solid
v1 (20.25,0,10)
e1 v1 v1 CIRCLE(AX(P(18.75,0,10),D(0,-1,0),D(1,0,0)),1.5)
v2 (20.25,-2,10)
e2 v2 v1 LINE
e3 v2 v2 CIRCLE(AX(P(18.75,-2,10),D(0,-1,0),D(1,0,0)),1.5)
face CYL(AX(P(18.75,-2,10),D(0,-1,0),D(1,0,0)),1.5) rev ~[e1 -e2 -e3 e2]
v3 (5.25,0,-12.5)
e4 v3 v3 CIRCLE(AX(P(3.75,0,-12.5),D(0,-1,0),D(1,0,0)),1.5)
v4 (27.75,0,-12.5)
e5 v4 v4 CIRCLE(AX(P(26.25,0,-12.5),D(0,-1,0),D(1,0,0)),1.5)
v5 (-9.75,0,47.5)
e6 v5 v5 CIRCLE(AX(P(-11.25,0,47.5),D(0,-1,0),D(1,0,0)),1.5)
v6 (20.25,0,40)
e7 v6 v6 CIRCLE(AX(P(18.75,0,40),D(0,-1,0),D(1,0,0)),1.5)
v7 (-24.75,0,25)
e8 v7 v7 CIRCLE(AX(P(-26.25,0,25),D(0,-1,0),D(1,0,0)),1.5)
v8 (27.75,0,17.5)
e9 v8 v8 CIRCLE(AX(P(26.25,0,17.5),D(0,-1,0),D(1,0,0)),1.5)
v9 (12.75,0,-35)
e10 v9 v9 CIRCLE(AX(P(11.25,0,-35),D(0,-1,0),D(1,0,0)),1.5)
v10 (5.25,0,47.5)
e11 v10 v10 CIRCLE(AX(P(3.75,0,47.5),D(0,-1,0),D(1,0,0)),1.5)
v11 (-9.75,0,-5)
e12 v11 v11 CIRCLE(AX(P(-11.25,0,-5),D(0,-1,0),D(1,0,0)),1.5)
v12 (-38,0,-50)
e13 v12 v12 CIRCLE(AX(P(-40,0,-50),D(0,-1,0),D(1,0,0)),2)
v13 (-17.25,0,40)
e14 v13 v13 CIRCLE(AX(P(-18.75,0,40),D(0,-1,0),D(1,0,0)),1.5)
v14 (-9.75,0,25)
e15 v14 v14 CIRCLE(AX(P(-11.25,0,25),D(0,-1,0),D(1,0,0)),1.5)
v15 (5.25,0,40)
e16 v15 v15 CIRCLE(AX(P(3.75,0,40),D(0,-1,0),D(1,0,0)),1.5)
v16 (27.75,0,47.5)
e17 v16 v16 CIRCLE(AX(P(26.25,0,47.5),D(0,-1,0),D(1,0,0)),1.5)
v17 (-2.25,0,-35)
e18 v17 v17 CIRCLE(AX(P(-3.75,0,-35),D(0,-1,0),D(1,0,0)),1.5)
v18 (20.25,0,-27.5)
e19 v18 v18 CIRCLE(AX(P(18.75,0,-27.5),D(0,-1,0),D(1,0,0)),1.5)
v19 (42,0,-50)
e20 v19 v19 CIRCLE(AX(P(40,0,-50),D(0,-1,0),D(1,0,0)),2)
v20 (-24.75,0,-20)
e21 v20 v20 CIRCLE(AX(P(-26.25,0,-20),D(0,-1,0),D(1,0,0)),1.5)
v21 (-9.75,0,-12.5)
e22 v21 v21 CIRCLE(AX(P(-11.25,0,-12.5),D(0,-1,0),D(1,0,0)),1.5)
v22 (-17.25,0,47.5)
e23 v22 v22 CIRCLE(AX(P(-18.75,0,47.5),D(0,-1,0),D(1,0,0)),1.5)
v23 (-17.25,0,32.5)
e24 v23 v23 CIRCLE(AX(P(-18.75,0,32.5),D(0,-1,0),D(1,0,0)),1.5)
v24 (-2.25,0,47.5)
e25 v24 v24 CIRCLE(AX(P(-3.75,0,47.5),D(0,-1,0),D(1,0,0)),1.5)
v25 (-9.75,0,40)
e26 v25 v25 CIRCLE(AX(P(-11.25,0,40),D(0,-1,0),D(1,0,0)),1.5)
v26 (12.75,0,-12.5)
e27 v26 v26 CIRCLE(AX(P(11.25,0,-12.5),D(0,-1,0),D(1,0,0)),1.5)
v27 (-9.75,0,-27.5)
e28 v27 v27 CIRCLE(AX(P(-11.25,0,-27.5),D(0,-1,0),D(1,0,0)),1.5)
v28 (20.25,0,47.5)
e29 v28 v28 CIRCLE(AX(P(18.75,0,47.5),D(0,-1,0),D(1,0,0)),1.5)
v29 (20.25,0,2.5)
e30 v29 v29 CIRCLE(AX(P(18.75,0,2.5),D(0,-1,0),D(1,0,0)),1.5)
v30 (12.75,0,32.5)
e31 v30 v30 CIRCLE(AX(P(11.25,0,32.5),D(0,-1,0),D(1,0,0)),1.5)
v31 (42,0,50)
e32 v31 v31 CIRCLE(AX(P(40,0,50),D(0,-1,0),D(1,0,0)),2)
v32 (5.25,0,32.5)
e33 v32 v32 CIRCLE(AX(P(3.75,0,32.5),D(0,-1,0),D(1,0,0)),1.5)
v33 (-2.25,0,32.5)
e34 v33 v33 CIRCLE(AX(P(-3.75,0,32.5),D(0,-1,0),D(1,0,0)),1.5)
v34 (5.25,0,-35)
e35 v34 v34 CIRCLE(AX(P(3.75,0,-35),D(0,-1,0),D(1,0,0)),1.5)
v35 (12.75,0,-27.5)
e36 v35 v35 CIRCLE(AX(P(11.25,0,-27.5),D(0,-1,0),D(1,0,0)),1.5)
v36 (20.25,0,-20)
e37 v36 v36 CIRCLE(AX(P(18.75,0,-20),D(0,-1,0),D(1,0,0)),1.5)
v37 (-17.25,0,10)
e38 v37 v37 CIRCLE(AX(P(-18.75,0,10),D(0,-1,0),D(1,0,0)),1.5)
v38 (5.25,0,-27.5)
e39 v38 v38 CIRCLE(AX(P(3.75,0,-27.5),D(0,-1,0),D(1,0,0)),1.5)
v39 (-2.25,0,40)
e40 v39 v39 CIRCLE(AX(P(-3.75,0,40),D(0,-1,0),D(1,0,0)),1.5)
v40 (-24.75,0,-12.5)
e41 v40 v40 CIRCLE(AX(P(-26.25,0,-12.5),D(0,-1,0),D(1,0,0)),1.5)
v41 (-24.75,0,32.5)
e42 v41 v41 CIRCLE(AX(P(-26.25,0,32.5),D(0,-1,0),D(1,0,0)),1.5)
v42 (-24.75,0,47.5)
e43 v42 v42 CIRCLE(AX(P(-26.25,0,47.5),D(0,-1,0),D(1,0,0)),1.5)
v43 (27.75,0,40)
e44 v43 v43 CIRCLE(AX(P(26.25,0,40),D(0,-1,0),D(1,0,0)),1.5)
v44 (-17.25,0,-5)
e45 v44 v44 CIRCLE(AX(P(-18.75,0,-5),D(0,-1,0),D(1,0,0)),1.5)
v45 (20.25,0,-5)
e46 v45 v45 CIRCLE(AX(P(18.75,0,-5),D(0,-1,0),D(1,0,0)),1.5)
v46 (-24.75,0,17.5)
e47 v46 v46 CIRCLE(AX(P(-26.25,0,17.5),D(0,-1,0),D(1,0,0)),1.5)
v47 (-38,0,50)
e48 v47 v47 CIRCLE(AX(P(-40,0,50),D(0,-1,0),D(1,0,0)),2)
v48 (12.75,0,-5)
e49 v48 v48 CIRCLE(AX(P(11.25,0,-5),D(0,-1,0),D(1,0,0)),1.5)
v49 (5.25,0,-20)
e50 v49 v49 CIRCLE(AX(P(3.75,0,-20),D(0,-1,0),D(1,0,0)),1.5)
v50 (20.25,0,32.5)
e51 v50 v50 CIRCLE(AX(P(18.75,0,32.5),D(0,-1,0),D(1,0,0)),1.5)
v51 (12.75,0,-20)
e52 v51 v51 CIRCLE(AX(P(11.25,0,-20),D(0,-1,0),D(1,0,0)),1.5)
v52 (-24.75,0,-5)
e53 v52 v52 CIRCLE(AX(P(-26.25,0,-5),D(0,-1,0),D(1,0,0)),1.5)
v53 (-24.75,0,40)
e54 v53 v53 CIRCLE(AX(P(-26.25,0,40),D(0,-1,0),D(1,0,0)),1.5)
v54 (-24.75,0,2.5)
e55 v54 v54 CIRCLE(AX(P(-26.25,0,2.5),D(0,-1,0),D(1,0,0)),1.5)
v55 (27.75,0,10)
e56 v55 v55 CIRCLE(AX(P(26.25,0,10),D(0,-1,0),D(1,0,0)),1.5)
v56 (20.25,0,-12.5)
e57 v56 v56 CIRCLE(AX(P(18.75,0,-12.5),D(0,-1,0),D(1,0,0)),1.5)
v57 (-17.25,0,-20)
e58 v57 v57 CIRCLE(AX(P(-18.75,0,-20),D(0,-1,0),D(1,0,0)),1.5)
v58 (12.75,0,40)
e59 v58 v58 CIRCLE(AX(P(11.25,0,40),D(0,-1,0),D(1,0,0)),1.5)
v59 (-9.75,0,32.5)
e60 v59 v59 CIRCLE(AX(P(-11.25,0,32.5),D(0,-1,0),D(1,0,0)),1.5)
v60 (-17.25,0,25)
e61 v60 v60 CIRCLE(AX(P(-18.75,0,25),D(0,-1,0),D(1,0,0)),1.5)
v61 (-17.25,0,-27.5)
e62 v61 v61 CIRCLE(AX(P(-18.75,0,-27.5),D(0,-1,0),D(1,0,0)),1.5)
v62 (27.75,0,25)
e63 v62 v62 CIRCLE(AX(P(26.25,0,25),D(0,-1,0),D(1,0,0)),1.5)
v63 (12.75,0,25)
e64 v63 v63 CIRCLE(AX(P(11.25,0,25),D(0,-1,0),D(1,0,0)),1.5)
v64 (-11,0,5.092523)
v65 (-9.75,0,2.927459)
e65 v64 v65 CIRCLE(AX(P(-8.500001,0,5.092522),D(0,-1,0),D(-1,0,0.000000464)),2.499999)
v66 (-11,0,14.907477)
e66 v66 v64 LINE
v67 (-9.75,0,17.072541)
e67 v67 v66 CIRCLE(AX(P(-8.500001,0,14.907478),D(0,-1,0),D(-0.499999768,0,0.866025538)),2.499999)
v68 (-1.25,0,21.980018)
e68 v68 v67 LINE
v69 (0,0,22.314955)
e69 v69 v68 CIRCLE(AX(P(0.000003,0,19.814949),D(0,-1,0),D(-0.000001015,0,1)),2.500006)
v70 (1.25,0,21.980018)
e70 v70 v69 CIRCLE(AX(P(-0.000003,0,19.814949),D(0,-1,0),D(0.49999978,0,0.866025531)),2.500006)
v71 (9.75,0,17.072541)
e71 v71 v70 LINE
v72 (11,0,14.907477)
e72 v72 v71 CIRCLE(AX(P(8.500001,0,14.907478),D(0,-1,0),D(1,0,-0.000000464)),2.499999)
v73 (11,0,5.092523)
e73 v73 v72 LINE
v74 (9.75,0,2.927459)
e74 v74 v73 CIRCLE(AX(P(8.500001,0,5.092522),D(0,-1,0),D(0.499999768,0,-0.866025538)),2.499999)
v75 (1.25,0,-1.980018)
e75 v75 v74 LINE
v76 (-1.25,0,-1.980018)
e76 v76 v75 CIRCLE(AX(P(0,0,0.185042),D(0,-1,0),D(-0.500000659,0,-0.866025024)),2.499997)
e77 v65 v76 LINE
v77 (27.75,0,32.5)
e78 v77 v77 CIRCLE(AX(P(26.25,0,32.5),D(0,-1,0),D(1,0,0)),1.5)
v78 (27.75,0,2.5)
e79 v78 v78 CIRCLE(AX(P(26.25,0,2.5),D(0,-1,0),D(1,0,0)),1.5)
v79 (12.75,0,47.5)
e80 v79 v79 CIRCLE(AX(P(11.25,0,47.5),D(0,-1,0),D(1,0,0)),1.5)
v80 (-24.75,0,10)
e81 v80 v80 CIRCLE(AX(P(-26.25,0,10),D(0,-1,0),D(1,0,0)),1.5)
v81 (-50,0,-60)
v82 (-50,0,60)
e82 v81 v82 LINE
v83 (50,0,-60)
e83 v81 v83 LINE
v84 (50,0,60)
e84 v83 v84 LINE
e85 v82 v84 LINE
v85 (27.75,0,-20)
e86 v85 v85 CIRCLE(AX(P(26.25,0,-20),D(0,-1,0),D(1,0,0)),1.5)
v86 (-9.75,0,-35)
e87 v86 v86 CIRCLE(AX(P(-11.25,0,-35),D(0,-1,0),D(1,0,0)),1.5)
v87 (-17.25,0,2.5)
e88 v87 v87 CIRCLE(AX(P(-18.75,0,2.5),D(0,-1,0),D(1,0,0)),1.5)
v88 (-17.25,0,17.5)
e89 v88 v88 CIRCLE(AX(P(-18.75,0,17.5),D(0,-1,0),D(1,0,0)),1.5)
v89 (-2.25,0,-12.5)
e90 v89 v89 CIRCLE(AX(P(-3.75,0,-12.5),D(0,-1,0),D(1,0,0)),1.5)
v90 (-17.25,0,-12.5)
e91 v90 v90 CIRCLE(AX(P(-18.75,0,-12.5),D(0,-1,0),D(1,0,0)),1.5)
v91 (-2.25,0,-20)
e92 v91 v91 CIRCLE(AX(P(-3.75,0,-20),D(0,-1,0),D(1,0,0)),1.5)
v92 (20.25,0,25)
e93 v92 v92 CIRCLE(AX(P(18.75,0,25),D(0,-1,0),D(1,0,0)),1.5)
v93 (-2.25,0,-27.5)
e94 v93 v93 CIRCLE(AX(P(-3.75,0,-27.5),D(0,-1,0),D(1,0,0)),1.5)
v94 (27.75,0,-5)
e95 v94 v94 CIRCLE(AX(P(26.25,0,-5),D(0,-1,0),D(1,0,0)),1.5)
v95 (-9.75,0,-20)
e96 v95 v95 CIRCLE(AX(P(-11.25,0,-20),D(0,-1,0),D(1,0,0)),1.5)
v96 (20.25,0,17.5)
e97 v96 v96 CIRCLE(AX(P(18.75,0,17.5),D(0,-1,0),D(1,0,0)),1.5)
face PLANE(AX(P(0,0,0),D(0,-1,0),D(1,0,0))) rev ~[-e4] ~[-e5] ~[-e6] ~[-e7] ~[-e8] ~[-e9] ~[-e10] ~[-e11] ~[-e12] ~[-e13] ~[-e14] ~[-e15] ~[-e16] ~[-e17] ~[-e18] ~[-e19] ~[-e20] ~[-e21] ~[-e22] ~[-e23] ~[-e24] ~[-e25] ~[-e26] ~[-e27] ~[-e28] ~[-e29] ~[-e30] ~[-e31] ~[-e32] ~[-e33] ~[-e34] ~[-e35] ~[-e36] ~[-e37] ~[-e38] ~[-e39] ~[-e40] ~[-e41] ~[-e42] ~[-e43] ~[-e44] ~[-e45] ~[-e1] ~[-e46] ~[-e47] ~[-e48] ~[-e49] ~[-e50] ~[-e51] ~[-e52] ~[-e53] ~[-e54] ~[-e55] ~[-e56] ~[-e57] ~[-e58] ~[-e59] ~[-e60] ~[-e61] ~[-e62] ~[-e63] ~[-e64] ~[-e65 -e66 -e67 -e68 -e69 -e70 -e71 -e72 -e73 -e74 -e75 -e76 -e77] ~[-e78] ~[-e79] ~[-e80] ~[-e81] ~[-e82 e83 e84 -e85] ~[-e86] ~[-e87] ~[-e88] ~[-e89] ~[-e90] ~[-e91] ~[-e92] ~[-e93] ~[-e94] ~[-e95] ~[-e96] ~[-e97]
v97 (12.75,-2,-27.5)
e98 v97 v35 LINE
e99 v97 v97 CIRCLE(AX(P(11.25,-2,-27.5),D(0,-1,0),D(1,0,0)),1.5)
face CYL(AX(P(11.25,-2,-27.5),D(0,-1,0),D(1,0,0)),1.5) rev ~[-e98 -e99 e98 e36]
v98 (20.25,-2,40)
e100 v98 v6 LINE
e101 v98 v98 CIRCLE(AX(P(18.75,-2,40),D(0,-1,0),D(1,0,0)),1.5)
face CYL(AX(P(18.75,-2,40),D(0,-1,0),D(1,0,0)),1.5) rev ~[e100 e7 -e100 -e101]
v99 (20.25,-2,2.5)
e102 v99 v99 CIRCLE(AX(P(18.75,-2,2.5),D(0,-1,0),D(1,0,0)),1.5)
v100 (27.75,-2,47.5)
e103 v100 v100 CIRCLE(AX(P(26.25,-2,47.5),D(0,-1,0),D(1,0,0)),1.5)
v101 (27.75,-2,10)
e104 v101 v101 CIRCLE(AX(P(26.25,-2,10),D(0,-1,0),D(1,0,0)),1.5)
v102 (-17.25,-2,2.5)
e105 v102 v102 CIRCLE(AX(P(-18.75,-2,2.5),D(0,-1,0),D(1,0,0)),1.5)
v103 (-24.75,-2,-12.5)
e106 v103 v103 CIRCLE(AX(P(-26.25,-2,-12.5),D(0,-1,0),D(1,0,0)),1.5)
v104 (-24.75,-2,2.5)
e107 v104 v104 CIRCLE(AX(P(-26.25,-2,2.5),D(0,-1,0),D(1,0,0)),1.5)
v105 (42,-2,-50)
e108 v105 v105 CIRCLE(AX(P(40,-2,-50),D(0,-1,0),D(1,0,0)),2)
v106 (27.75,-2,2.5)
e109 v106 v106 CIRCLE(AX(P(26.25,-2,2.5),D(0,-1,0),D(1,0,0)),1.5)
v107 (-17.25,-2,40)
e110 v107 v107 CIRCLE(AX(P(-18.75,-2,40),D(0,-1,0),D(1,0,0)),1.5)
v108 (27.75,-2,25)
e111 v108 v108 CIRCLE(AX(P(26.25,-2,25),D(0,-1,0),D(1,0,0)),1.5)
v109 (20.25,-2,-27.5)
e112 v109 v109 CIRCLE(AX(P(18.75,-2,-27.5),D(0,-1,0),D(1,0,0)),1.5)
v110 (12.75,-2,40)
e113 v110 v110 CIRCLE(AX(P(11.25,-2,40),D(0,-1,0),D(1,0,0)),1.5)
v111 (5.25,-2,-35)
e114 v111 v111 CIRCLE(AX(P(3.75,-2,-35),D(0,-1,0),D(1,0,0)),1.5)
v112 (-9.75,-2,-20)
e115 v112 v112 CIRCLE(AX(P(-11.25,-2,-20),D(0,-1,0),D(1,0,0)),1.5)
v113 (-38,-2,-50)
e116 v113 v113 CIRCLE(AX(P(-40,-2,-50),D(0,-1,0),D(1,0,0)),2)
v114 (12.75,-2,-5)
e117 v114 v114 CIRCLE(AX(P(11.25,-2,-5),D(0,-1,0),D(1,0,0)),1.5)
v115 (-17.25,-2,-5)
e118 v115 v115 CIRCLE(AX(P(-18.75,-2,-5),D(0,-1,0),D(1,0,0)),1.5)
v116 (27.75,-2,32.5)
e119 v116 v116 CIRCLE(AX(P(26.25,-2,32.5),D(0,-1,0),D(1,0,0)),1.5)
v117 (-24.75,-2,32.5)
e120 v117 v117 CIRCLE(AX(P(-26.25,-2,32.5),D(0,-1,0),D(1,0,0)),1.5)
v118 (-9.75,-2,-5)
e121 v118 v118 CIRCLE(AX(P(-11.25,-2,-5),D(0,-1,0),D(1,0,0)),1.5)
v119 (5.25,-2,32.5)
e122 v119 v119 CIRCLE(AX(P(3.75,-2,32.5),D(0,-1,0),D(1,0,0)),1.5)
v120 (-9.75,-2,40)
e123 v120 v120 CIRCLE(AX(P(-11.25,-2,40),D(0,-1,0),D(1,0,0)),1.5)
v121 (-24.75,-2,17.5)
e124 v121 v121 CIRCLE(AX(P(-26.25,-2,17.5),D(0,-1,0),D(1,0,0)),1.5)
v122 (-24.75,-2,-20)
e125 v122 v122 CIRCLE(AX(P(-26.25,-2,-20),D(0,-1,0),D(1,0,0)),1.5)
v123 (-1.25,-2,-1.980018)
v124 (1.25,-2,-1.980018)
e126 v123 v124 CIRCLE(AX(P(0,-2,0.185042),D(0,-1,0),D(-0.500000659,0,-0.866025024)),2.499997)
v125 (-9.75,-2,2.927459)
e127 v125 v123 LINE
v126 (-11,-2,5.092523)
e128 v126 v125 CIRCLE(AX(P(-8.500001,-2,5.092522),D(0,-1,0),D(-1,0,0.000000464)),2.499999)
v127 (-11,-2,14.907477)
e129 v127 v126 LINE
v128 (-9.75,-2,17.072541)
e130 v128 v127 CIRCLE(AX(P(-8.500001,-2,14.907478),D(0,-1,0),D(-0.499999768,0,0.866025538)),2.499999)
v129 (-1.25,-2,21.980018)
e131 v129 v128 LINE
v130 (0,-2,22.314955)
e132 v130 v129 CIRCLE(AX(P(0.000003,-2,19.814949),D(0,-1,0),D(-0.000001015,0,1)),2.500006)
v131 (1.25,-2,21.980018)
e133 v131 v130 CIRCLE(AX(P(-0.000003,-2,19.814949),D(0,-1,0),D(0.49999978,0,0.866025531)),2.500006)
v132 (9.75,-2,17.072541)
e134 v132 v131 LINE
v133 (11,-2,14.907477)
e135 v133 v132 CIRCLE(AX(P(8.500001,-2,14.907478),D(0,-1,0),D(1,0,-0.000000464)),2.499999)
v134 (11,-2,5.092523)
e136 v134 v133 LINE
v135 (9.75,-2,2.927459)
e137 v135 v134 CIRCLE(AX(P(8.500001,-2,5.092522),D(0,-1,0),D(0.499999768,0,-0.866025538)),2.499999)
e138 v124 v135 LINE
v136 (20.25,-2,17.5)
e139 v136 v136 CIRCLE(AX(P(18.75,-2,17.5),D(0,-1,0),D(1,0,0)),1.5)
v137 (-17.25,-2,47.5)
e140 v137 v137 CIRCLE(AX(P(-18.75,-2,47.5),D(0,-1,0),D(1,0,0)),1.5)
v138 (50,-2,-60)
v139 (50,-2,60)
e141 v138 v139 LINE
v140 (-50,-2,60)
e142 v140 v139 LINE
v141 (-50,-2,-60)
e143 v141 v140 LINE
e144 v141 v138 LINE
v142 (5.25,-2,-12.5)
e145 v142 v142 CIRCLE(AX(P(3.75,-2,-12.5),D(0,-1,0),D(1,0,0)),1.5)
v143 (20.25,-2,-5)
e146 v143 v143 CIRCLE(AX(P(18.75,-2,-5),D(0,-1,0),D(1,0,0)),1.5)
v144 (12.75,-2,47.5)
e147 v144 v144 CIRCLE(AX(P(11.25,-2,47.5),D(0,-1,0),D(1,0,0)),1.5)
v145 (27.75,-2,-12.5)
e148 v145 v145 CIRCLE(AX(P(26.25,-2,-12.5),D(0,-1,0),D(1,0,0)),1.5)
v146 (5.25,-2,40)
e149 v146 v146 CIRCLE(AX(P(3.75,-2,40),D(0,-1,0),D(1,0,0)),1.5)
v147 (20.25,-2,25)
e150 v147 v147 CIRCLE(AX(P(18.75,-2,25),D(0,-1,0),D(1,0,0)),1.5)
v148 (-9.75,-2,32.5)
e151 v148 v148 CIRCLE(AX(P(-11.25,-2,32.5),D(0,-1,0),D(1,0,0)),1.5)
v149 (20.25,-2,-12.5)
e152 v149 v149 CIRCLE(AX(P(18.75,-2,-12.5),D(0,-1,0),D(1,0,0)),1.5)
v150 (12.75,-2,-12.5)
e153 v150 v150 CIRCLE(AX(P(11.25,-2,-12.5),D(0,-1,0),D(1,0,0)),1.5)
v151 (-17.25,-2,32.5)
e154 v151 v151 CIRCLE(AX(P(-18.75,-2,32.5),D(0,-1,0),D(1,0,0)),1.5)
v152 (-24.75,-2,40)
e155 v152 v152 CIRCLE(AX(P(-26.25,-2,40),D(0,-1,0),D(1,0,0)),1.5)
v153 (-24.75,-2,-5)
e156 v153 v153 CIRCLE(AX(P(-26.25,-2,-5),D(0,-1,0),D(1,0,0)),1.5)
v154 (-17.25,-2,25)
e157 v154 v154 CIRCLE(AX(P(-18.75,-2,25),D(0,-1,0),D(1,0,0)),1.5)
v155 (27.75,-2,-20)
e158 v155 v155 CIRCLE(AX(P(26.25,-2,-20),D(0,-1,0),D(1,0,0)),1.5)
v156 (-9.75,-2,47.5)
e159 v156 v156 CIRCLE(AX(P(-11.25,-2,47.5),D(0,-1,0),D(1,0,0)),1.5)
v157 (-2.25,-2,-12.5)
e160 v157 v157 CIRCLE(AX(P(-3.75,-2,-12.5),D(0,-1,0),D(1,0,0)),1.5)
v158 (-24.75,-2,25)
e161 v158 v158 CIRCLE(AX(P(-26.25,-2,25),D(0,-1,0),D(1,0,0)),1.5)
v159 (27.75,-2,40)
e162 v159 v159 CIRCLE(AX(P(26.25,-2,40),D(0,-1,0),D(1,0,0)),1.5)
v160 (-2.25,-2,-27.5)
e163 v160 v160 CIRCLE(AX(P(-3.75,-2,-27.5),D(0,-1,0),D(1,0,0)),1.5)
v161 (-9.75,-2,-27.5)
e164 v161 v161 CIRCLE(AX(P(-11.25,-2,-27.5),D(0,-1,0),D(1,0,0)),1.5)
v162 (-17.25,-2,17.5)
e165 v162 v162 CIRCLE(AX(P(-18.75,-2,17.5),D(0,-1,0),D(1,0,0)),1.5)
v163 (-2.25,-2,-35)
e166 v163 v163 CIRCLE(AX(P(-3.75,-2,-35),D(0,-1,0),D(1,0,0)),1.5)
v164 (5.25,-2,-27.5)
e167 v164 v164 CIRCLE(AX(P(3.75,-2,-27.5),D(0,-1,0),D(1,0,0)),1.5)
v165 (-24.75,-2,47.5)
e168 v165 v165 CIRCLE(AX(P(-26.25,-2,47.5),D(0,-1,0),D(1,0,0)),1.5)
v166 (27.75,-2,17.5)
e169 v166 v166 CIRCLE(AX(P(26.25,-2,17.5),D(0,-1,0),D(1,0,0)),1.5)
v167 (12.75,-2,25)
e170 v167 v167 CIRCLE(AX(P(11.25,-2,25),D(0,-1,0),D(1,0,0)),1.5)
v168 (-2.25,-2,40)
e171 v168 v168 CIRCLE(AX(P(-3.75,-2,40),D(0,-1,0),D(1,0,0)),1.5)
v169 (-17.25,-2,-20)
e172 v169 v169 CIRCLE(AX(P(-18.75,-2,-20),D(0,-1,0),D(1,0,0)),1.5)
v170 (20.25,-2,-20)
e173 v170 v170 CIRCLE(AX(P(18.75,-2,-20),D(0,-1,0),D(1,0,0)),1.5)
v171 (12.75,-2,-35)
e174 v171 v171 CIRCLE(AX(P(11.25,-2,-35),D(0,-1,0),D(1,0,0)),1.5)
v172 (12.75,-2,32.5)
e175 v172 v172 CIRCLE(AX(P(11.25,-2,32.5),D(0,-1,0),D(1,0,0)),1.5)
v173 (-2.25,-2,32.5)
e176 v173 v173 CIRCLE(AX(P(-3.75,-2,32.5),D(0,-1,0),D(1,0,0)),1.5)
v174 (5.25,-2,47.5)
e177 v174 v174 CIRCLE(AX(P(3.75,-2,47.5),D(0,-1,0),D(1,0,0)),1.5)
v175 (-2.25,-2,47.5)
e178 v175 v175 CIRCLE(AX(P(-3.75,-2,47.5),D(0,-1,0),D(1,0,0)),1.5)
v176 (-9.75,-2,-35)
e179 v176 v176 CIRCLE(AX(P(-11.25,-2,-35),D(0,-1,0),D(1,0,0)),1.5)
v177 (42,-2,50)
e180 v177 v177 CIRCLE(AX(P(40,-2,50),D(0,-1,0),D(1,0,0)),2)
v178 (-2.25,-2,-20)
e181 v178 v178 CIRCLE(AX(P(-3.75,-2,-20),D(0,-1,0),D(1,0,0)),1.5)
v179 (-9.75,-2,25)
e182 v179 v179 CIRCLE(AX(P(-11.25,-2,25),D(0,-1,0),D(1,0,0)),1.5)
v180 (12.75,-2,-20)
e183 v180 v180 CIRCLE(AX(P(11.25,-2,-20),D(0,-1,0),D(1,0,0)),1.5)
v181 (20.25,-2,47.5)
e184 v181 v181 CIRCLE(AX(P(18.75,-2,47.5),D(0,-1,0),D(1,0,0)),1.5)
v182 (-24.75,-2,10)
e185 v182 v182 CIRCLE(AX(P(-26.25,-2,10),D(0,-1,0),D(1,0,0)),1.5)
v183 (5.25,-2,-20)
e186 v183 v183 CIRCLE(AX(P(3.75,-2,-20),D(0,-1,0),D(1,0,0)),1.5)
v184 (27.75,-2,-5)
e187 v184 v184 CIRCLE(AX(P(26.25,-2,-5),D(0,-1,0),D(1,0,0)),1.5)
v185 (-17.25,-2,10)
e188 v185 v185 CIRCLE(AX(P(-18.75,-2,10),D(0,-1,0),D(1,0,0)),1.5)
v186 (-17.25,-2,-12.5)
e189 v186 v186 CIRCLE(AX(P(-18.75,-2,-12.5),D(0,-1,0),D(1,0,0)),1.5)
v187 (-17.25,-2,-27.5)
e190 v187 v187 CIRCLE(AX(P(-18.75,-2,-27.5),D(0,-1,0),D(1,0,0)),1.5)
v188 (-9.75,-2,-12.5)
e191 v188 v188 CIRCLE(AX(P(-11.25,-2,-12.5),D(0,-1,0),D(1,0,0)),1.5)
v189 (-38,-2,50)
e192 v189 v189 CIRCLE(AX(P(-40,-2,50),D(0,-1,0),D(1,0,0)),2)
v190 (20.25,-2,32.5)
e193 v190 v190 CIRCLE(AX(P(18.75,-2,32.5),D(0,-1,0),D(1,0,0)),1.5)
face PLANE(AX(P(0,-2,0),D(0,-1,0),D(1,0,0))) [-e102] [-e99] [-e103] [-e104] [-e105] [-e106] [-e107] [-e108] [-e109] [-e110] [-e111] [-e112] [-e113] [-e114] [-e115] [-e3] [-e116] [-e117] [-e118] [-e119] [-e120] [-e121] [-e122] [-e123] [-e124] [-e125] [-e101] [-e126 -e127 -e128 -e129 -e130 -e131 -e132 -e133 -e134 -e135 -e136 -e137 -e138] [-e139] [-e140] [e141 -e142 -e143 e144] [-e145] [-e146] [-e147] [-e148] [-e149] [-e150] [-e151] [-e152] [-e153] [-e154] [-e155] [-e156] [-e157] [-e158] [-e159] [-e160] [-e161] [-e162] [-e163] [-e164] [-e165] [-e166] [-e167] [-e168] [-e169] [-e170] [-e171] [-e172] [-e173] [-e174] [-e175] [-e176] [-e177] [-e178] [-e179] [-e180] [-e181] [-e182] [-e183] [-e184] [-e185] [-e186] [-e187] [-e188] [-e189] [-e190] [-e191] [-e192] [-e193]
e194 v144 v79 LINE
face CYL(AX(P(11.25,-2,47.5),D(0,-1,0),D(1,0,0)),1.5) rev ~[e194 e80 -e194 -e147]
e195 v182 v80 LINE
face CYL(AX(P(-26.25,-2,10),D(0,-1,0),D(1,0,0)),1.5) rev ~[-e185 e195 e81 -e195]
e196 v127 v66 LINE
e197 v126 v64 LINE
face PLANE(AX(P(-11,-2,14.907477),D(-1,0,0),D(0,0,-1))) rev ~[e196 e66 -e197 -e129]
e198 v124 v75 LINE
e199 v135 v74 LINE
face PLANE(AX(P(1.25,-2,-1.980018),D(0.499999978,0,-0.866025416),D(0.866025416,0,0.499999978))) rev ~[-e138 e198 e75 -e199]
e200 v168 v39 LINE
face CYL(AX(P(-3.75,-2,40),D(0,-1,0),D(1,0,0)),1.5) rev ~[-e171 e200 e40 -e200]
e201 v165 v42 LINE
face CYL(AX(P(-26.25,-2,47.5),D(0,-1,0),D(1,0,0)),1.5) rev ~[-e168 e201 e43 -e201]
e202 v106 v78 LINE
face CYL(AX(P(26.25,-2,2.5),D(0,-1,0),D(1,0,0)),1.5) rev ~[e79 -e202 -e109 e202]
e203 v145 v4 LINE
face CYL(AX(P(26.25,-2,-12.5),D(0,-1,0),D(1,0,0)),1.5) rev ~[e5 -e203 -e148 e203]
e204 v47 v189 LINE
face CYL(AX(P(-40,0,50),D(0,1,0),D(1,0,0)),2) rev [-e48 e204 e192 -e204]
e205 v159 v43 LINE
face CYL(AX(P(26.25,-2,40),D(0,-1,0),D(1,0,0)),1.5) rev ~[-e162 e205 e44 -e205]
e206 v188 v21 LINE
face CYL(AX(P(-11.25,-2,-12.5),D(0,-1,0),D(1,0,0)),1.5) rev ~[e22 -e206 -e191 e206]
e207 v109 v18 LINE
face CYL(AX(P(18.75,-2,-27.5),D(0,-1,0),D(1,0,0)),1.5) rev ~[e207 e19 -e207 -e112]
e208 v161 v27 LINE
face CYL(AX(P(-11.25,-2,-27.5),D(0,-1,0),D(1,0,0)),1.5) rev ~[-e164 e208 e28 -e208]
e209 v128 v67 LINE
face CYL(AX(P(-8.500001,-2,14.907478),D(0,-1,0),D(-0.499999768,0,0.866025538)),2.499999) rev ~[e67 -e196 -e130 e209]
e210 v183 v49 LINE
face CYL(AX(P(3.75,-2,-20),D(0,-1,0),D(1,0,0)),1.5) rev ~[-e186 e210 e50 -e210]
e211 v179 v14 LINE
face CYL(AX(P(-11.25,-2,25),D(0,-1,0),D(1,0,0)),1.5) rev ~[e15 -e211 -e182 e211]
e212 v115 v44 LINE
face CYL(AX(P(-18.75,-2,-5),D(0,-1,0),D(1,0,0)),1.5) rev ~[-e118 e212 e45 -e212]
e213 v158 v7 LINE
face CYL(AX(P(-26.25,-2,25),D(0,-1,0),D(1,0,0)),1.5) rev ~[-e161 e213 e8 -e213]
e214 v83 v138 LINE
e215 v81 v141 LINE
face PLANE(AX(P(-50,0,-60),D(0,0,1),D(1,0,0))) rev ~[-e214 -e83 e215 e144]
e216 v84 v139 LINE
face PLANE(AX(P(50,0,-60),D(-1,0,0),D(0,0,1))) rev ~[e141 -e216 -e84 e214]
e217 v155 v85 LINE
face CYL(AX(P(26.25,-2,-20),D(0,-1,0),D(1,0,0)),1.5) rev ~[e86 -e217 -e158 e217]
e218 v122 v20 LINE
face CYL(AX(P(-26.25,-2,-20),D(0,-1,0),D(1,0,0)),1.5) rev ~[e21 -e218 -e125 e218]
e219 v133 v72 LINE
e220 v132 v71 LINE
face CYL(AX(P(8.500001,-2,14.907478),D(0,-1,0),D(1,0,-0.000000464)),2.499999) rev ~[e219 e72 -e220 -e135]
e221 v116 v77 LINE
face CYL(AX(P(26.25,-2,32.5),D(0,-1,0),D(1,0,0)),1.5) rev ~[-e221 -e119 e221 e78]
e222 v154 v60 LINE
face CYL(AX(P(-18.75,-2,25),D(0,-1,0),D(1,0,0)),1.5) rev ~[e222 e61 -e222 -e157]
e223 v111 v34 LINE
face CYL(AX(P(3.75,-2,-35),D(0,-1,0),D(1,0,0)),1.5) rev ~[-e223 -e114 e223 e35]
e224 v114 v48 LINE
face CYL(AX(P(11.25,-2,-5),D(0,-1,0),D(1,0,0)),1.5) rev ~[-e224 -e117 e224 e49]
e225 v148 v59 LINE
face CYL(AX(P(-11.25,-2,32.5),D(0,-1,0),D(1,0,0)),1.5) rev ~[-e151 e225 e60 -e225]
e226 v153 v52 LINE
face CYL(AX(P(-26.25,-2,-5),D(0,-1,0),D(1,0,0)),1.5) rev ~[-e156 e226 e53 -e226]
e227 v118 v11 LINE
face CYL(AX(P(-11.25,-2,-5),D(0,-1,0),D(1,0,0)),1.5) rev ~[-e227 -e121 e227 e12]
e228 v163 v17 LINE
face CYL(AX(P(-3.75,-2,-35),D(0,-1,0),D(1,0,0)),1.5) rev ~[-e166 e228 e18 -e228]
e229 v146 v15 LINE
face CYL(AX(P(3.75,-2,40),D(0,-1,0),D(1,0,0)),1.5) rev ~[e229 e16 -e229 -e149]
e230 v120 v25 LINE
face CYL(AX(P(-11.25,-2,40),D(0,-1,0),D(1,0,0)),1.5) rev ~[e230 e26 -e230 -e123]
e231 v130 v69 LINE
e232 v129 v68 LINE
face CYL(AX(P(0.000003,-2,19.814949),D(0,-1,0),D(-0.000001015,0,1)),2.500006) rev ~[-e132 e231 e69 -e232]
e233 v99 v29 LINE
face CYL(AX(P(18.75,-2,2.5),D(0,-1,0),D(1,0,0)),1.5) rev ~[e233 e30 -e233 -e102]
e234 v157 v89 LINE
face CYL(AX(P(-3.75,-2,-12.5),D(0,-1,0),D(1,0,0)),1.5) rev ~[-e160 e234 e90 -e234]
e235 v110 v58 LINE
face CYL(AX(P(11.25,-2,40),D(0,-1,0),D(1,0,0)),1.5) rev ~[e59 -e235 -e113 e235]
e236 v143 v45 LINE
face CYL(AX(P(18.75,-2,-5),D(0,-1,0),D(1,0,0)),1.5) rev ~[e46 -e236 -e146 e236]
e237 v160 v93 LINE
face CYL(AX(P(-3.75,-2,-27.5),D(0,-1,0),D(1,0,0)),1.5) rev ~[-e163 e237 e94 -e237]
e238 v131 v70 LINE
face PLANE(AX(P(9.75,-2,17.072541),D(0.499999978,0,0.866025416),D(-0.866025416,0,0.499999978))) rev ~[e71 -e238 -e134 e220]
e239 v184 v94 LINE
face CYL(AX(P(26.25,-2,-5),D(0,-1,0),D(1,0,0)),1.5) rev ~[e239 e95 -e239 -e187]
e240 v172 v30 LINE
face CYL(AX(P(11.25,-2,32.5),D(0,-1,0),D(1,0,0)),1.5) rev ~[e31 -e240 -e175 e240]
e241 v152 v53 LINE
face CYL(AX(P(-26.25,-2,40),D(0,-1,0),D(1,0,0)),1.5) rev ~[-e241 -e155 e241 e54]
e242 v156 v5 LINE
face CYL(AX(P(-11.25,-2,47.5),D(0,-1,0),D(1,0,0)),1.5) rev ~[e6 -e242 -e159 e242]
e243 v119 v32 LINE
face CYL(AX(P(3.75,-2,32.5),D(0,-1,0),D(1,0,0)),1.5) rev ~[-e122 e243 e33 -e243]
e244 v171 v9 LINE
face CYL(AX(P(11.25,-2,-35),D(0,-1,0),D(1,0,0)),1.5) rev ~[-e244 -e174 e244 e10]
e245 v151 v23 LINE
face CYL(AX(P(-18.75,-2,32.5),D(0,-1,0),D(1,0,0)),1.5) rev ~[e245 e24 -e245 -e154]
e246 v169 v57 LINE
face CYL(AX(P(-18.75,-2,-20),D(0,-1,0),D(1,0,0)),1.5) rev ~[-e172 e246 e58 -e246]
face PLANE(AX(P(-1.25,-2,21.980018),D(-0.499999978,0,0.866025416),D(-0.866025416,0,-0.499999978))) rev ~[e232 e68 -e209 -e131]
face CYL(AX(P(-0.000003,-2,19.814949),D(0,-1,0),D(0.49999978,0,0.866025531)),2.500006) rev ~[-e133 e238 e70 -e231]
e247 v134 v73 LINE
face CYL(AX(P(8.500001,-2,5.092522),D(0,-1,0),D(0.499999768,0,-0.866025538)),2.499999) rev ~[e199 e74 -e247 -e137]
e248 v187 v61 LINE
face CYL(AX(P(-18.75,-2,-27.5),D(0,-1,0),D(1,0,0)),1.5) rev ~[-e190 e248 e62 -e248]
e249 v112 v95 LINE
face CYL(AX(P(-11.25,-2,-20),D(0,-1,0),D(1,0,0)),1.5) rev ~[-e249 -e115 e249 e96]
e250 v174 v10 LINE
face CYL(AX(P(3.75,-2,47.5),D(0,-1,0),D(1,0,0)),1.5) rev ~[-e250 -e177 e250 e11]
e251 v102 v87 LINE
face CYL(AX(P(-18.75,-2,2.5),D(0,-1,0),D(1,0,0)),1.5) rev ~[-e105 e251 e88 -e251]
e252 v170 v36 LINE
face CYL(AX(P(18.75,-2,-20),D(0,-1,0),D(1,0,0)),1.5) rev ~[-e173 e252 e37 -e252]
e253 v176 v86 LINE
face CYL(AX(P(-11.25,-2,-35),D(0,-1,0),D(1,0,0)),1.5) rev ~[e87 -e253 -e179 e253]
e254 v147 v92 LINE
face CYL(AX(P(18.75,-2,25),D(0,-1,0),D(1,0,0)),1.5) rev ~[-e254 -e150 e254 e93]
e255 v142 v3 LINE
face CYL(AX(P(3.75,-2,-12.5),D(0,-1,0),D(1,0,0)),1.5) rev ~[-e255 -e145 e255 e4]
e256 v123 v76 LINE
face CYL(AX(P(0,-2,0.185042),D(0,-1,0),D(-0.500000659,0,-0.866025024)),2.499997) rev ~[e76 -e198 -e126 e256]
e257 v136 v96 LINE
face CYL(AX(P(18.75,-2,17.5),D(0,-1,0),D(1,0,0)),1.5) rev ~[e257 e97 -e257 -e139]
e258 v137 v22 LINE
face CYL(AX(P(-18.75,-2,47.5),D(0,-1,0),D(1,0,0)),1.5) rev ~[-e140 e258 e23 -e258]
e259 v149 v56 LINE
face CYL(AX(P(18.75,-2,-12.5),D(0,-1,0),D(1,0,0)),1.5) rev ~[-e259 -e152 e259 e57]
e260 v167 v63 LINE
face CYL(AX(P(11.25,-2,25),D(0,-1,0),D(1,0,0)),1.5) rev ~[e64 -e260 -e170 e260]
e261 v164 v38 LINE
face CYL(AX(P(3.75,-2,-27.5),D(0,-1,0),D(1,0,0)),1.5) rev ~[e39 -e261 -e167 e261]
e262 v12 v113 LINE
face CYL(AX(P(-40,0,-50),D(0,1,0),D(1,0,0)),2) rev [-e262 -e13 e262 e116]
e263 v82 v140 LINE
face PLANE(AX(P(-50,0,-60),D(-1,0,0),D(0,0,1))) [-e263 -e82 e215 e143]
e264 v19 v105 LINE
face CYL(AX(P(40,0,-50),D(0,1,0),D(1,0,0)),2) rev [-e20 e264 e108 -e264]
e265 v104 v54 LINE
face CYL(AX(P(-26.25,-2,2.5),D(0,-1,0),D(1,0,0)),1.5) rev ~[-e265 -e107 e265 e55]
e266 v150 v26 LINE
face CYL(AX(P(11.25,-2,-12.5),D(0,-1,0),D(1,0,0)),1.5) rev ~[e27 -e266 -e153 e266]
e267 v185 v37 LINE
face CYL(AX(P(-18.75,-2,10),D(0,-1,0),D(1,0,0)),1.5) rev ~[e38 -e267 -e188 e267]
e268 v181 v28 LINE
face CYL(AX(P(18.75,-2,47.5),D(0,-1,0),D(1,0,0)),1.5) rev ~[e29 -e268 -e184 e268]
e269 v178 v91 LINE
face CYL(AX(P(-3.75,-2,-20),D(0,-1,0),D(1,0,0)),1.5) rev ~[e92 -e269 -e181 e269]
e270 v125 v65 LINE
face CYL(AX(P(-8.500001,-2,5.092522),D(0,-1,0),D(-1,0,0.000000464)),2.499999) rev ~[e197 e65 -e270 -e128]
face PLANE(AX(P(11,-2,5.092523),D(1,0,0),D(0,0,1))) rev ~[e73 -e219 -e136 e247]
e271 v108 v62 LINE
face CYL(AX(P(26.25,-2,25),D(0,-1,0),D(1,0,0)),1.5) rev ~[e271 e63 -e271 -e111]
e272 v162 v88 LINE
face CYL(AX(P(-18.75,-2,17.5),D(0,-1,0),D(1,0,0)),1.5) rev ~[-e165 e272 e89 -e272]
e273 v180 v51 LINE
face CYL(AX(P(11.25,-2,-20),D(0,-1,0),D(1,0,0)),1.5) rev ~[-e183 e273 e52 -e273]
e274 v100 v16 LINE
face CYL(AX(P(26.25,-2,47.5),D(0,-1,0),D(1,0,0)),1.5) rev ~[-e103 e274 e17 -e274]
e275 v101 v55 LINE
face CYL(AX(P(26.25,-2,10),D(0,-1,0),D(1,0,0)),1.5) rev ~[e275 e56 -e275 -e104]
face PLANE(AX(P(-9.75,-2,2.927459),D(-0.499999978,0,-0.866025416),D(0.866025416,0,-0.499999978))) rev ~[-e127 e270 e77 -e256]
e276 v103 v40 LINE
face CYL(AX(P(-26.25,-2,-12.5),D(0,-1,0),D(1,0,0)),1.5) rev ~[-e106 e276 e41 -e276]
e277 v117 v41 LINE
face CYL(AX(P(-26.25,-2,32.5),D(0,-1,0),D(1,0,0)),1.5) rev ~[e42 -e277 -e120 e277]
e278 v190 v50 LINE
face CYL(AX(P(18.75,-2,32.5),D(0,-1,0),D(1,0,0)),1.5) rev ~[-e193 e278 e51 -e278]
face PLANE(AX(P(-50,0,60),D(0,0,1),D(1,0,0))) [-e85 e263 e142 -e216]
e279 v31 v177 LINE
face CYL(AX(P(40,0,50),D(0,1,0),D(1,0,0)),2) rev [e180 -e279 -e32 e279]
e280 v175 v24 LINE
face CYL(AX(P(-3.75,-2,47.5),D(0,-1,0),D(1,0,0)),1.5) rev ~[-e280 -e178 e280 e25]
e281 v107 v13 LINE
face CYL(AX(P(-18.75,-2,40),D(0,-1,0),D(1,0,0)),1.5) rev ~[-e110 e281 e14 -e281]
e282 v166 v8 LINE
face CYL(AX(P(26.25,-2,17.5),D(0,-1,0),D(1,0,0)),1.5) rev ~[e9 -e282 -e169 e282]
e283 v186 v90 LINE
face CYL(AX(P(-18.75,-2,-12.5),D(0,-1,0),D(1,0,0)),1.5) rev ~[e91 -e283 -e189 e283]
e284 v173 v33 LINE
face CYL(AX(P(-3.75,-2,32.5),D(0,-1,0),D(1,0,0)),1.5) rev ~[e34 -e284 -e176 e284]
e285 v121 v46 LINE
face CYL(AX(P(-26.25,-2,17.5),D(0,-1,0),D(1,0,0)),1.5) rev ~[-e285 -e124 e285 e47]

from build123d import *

# Parameters (mm, degrees)
F0_W     = 100
F0_H     = 120
F0_R     = 2
F1_DEPTH = 2
F3_DEPTH = 25
F4_R     = 1.5
F5_DEPTH = 2.001


with BuildPart() as f1:
    # F0 (on Front) → F1 (new body)
    with BuildSketch(Plane.XZ):
        Rectangle(F0_W, F0_H)
        with Locations((-40, -50)):
            Circle(F0_R, mode=Mode.SUBTRACT)
        with Locations((40, -50)):
            Circle(F0_R, mode=Mode.SUBTRACT)
        with Locations((-40, 50)):
            Circle(F0_R, mode=Mode.SUBTRACT)
        with Locations((40, 50)):
            Circle(F0_R, mode=Mode.SUBTRACT)
    extrude(amount=F1_DEPTH)

    # F2 (on face) → F3 (cut)
    with BuildSketch(Plane.XZ.offset(2)):
        with BuildLine():
            Line((-1.25, 21.980018), (-9.75, 17.072541))
            ThreePointArc((-9.75, 17.072541), (-10.665064, 16.157477), (-11, 14.907477))
            Line((-11, 14.907477), (-11, 5.092523))
            ThreePointArc((-11, 5.092523), (-10.665064, 3.842523), (-9.75, 2.927459))
            Line((-9.75, 2.927459), (-1.25, -1.980018))
            ThreePointArc((-1.25, -1.980018), (0, -2.314955), (1.25, -1.980018))
            Line((1.25, -1.980018), (9.75, 2.927459))
            ThreePointArc((9.75, 2.927459), (10.665064, 3.842523), (11, 5.092523))
            Line((11, 5.092523), (11, 10.354255))
            Line((11, 10.354255), (0, 10.354255))
            Line((0, 10.354255), (0, 22.314955))
            ThreePointArc((0, 22.314955), (-0.647048, 22.229769), (-1.25, 21.980018))
        make_face()
        with BuildLine():
            ThreePointArc((1.25, 21.980018), (0.647048, 22.229769), (0, 22.314955))
            Line((0, 22.314955), (0, 10.354255))
            Line((0, 10.354255), (11, 10.354255))
            Line((11, 10.354255), (11, 14.907477))
            ThreePointArc((11, 14.907477), (10.665064, 16.157477), (9.75, 17.072541))
            Line((9.75, 17.072541), (1.25, 21.980018))
        make_face()
    extrude(amount=-F3_DEPTH, mode=Mode.SUBTRACT)

    # F4 (on face) → F5 (cut, through all)
    with BuildSketch(Plane.XZ.offset(2)):
        with Locations((3.75, 47.5)):
            Circle(F4_R)
        with Locations((3.75, 40)):
            Circle(F4_R)
        with Locations((3.75, 32.5)):
            Circle(F4_R)
        with Locations((11.25, 47.5)):
            Circle(F4_R)
        with Locations((11.25, 40)):
            Circle(F4_R)
        with Locations((11.25, 32.5)):
            Circle(F4_R)
        with Locations((11.25, 25)):
            Circle(F4_R)
        with Locations((18.75, 47.5)):
            Circle(F4_R)
        with Locations((18.75, 40)):
            Circle(F4_R)
        with Locations((18.75, 32.5)):
            Circle(F4_R)
        with Locations((18.75, 25)):
            Circle(F4_R)
        with Locations((18.75, 17.5)):
            Circle(F4_R)
        with Locations((18.75, 10)):
            Circle(F4_R)
        with Locations((18.75, 2.5)):
            Circle(F4_R)
        with Locations((26.25, 47.5)):
            Circle(F4_R)
        with Locations((26.25, 40)):
            Circle(F4_R)
        with Locations((26.25, 32.5)):
            Circle(F4_R)
        with Locations((26.25, 25)):
            Circle(F4_R)
        with Locations((26.25, 17.5)):
            Circle(F4_R)
        with Locations((26.25, 10)):
            Circle(F4_R)
        with Locations((26.25, 2.5)):
            Circle(F4_R)
        with Locations((3.75, -12.5)):
            Circle(F4_R)
        with Locations((3.75, -20)):
            Circle(F4_R)
        with Locations((3.75, -27.5)):
            Circle(F4_R)
        with Locations((3.75, -35)):
            Circle(F4_R)
        with Locations((11.25, -5)):
            Circle(F4_R)
        with Locations((11.25, -12.5)):
            Circle(F4_R)
        with Locations((11.25, -20)):
            Circle(F4_R)
        with Locations((11.25, -27.5)):
            Circle(F4_R)
        with Locations((11.25, -35)):
            Circle(F4_R)
        with Locations((18.75, -5)):
            Circle(F4_R)
        with Locations((18.75, -12.5)):
            Circle(F4_R)
        with Locations((18.75, -20)):
            Circle(F4_R)
        with Locations((18.75, -27.5)):
            Circle(F4_R)
        with Locations((26.25, -5)):
            Circle(F4_R)
        with Locations((26.25, -12.5)):
            Circle(F4_R)
        with Locations((26.25, -20)):
            Circle(F4_R)
        with Locations((-3.75, 47.5)):
            Circle(F4_R)
        with Locations((-3.75, 40)):
            Circle(F4_R)
        with Locations((-3.75, -12.5)):
            Circle(F4_R)
        with Locations((-3.75, -35)):
            Circle(F4_R)
        with Locations((-26.25, 17.5)):
            Circle(F4_R)
        with Locations((-26.25, -12.5)):
            Circle(F4_R)
        with Locations((-26.25, -5)):
            Circle(F4_R)
        with Locations((-26.25, 47.5)):
            Circle(F4_R)
        with Locations((-26.25, 32.5)):
            Circle(F4_R)
        with Locations((-26.25, 10)):
            Circle(F4_R)
        with Locations((-26.25, 40)):
            Circle(F4_R)
        with Locations((-3.75, -27.5)):
            Circle(F4_R)
        with Locations((-11.25, 40)):
            Circle(F4_R)
        with Locations((-26.25, 2.5)):
            Circle(F4_R)
        with Locations((-11.25, -27.5)):
            Circle(F4_R)
        with Locations((-11.25, 32.5)):
            Circle(F4_R)
        with Locations((-11.25, 47.5)):
            Circle(F4_R)
        with Locations((-18.75, 25)):
            Circle(F4_R)
        with Locations((-18.75, 10)):
            Circle(F4_R)
        with Locations((-11.25, -35)):
            Circle(F4_R)
        with Locations((-11.25, -20)):
            Circle(F4_R)
        with Locations((-18.75, 2.5)):
            Circle(F4_R)
        with Locations((-18.75, -12.5)):
            Circle(F4_R)
        with Locations((-11.25, -5)):
            Circle(F4_R)
        with Locations((-11.25, -12.5)):
            Circle(F4_R)
        with Locations((-18.75, -20)):
            Circle(F4_R)
        with Locations((-18.75, 32.5)):
            Circle(F4_R)
        with Locations((-26.25, 25)):
            Circle(F4_R)
        with Locations((-26.25, -20)):
            Circle(F4_R)
        with Locations((-11.25, 25)):
            Circle(F4_R)
        with Locations((-3.75, 32.5)):
            Circle(F4_R)
        with Locations((-18.75, 47.5)):
            Circle(F4_R)
        with Locations((-18.75, -5)):
            Circle(F4_R)
        with Locations((-18.75, 40)):
            Circle(F4_R)
        with Locations((-18.75, -27.5)):
            Circle(F4_R)
        with Locations((-18.75, 17.5)):
            Circle(F4_R)
        with Locations((-3.75, -20)):
            Circle(F4_R)
    extrude(amount=-F5_DEPTH, mode=Mode.SUBTRACT)


solid = f1.part
